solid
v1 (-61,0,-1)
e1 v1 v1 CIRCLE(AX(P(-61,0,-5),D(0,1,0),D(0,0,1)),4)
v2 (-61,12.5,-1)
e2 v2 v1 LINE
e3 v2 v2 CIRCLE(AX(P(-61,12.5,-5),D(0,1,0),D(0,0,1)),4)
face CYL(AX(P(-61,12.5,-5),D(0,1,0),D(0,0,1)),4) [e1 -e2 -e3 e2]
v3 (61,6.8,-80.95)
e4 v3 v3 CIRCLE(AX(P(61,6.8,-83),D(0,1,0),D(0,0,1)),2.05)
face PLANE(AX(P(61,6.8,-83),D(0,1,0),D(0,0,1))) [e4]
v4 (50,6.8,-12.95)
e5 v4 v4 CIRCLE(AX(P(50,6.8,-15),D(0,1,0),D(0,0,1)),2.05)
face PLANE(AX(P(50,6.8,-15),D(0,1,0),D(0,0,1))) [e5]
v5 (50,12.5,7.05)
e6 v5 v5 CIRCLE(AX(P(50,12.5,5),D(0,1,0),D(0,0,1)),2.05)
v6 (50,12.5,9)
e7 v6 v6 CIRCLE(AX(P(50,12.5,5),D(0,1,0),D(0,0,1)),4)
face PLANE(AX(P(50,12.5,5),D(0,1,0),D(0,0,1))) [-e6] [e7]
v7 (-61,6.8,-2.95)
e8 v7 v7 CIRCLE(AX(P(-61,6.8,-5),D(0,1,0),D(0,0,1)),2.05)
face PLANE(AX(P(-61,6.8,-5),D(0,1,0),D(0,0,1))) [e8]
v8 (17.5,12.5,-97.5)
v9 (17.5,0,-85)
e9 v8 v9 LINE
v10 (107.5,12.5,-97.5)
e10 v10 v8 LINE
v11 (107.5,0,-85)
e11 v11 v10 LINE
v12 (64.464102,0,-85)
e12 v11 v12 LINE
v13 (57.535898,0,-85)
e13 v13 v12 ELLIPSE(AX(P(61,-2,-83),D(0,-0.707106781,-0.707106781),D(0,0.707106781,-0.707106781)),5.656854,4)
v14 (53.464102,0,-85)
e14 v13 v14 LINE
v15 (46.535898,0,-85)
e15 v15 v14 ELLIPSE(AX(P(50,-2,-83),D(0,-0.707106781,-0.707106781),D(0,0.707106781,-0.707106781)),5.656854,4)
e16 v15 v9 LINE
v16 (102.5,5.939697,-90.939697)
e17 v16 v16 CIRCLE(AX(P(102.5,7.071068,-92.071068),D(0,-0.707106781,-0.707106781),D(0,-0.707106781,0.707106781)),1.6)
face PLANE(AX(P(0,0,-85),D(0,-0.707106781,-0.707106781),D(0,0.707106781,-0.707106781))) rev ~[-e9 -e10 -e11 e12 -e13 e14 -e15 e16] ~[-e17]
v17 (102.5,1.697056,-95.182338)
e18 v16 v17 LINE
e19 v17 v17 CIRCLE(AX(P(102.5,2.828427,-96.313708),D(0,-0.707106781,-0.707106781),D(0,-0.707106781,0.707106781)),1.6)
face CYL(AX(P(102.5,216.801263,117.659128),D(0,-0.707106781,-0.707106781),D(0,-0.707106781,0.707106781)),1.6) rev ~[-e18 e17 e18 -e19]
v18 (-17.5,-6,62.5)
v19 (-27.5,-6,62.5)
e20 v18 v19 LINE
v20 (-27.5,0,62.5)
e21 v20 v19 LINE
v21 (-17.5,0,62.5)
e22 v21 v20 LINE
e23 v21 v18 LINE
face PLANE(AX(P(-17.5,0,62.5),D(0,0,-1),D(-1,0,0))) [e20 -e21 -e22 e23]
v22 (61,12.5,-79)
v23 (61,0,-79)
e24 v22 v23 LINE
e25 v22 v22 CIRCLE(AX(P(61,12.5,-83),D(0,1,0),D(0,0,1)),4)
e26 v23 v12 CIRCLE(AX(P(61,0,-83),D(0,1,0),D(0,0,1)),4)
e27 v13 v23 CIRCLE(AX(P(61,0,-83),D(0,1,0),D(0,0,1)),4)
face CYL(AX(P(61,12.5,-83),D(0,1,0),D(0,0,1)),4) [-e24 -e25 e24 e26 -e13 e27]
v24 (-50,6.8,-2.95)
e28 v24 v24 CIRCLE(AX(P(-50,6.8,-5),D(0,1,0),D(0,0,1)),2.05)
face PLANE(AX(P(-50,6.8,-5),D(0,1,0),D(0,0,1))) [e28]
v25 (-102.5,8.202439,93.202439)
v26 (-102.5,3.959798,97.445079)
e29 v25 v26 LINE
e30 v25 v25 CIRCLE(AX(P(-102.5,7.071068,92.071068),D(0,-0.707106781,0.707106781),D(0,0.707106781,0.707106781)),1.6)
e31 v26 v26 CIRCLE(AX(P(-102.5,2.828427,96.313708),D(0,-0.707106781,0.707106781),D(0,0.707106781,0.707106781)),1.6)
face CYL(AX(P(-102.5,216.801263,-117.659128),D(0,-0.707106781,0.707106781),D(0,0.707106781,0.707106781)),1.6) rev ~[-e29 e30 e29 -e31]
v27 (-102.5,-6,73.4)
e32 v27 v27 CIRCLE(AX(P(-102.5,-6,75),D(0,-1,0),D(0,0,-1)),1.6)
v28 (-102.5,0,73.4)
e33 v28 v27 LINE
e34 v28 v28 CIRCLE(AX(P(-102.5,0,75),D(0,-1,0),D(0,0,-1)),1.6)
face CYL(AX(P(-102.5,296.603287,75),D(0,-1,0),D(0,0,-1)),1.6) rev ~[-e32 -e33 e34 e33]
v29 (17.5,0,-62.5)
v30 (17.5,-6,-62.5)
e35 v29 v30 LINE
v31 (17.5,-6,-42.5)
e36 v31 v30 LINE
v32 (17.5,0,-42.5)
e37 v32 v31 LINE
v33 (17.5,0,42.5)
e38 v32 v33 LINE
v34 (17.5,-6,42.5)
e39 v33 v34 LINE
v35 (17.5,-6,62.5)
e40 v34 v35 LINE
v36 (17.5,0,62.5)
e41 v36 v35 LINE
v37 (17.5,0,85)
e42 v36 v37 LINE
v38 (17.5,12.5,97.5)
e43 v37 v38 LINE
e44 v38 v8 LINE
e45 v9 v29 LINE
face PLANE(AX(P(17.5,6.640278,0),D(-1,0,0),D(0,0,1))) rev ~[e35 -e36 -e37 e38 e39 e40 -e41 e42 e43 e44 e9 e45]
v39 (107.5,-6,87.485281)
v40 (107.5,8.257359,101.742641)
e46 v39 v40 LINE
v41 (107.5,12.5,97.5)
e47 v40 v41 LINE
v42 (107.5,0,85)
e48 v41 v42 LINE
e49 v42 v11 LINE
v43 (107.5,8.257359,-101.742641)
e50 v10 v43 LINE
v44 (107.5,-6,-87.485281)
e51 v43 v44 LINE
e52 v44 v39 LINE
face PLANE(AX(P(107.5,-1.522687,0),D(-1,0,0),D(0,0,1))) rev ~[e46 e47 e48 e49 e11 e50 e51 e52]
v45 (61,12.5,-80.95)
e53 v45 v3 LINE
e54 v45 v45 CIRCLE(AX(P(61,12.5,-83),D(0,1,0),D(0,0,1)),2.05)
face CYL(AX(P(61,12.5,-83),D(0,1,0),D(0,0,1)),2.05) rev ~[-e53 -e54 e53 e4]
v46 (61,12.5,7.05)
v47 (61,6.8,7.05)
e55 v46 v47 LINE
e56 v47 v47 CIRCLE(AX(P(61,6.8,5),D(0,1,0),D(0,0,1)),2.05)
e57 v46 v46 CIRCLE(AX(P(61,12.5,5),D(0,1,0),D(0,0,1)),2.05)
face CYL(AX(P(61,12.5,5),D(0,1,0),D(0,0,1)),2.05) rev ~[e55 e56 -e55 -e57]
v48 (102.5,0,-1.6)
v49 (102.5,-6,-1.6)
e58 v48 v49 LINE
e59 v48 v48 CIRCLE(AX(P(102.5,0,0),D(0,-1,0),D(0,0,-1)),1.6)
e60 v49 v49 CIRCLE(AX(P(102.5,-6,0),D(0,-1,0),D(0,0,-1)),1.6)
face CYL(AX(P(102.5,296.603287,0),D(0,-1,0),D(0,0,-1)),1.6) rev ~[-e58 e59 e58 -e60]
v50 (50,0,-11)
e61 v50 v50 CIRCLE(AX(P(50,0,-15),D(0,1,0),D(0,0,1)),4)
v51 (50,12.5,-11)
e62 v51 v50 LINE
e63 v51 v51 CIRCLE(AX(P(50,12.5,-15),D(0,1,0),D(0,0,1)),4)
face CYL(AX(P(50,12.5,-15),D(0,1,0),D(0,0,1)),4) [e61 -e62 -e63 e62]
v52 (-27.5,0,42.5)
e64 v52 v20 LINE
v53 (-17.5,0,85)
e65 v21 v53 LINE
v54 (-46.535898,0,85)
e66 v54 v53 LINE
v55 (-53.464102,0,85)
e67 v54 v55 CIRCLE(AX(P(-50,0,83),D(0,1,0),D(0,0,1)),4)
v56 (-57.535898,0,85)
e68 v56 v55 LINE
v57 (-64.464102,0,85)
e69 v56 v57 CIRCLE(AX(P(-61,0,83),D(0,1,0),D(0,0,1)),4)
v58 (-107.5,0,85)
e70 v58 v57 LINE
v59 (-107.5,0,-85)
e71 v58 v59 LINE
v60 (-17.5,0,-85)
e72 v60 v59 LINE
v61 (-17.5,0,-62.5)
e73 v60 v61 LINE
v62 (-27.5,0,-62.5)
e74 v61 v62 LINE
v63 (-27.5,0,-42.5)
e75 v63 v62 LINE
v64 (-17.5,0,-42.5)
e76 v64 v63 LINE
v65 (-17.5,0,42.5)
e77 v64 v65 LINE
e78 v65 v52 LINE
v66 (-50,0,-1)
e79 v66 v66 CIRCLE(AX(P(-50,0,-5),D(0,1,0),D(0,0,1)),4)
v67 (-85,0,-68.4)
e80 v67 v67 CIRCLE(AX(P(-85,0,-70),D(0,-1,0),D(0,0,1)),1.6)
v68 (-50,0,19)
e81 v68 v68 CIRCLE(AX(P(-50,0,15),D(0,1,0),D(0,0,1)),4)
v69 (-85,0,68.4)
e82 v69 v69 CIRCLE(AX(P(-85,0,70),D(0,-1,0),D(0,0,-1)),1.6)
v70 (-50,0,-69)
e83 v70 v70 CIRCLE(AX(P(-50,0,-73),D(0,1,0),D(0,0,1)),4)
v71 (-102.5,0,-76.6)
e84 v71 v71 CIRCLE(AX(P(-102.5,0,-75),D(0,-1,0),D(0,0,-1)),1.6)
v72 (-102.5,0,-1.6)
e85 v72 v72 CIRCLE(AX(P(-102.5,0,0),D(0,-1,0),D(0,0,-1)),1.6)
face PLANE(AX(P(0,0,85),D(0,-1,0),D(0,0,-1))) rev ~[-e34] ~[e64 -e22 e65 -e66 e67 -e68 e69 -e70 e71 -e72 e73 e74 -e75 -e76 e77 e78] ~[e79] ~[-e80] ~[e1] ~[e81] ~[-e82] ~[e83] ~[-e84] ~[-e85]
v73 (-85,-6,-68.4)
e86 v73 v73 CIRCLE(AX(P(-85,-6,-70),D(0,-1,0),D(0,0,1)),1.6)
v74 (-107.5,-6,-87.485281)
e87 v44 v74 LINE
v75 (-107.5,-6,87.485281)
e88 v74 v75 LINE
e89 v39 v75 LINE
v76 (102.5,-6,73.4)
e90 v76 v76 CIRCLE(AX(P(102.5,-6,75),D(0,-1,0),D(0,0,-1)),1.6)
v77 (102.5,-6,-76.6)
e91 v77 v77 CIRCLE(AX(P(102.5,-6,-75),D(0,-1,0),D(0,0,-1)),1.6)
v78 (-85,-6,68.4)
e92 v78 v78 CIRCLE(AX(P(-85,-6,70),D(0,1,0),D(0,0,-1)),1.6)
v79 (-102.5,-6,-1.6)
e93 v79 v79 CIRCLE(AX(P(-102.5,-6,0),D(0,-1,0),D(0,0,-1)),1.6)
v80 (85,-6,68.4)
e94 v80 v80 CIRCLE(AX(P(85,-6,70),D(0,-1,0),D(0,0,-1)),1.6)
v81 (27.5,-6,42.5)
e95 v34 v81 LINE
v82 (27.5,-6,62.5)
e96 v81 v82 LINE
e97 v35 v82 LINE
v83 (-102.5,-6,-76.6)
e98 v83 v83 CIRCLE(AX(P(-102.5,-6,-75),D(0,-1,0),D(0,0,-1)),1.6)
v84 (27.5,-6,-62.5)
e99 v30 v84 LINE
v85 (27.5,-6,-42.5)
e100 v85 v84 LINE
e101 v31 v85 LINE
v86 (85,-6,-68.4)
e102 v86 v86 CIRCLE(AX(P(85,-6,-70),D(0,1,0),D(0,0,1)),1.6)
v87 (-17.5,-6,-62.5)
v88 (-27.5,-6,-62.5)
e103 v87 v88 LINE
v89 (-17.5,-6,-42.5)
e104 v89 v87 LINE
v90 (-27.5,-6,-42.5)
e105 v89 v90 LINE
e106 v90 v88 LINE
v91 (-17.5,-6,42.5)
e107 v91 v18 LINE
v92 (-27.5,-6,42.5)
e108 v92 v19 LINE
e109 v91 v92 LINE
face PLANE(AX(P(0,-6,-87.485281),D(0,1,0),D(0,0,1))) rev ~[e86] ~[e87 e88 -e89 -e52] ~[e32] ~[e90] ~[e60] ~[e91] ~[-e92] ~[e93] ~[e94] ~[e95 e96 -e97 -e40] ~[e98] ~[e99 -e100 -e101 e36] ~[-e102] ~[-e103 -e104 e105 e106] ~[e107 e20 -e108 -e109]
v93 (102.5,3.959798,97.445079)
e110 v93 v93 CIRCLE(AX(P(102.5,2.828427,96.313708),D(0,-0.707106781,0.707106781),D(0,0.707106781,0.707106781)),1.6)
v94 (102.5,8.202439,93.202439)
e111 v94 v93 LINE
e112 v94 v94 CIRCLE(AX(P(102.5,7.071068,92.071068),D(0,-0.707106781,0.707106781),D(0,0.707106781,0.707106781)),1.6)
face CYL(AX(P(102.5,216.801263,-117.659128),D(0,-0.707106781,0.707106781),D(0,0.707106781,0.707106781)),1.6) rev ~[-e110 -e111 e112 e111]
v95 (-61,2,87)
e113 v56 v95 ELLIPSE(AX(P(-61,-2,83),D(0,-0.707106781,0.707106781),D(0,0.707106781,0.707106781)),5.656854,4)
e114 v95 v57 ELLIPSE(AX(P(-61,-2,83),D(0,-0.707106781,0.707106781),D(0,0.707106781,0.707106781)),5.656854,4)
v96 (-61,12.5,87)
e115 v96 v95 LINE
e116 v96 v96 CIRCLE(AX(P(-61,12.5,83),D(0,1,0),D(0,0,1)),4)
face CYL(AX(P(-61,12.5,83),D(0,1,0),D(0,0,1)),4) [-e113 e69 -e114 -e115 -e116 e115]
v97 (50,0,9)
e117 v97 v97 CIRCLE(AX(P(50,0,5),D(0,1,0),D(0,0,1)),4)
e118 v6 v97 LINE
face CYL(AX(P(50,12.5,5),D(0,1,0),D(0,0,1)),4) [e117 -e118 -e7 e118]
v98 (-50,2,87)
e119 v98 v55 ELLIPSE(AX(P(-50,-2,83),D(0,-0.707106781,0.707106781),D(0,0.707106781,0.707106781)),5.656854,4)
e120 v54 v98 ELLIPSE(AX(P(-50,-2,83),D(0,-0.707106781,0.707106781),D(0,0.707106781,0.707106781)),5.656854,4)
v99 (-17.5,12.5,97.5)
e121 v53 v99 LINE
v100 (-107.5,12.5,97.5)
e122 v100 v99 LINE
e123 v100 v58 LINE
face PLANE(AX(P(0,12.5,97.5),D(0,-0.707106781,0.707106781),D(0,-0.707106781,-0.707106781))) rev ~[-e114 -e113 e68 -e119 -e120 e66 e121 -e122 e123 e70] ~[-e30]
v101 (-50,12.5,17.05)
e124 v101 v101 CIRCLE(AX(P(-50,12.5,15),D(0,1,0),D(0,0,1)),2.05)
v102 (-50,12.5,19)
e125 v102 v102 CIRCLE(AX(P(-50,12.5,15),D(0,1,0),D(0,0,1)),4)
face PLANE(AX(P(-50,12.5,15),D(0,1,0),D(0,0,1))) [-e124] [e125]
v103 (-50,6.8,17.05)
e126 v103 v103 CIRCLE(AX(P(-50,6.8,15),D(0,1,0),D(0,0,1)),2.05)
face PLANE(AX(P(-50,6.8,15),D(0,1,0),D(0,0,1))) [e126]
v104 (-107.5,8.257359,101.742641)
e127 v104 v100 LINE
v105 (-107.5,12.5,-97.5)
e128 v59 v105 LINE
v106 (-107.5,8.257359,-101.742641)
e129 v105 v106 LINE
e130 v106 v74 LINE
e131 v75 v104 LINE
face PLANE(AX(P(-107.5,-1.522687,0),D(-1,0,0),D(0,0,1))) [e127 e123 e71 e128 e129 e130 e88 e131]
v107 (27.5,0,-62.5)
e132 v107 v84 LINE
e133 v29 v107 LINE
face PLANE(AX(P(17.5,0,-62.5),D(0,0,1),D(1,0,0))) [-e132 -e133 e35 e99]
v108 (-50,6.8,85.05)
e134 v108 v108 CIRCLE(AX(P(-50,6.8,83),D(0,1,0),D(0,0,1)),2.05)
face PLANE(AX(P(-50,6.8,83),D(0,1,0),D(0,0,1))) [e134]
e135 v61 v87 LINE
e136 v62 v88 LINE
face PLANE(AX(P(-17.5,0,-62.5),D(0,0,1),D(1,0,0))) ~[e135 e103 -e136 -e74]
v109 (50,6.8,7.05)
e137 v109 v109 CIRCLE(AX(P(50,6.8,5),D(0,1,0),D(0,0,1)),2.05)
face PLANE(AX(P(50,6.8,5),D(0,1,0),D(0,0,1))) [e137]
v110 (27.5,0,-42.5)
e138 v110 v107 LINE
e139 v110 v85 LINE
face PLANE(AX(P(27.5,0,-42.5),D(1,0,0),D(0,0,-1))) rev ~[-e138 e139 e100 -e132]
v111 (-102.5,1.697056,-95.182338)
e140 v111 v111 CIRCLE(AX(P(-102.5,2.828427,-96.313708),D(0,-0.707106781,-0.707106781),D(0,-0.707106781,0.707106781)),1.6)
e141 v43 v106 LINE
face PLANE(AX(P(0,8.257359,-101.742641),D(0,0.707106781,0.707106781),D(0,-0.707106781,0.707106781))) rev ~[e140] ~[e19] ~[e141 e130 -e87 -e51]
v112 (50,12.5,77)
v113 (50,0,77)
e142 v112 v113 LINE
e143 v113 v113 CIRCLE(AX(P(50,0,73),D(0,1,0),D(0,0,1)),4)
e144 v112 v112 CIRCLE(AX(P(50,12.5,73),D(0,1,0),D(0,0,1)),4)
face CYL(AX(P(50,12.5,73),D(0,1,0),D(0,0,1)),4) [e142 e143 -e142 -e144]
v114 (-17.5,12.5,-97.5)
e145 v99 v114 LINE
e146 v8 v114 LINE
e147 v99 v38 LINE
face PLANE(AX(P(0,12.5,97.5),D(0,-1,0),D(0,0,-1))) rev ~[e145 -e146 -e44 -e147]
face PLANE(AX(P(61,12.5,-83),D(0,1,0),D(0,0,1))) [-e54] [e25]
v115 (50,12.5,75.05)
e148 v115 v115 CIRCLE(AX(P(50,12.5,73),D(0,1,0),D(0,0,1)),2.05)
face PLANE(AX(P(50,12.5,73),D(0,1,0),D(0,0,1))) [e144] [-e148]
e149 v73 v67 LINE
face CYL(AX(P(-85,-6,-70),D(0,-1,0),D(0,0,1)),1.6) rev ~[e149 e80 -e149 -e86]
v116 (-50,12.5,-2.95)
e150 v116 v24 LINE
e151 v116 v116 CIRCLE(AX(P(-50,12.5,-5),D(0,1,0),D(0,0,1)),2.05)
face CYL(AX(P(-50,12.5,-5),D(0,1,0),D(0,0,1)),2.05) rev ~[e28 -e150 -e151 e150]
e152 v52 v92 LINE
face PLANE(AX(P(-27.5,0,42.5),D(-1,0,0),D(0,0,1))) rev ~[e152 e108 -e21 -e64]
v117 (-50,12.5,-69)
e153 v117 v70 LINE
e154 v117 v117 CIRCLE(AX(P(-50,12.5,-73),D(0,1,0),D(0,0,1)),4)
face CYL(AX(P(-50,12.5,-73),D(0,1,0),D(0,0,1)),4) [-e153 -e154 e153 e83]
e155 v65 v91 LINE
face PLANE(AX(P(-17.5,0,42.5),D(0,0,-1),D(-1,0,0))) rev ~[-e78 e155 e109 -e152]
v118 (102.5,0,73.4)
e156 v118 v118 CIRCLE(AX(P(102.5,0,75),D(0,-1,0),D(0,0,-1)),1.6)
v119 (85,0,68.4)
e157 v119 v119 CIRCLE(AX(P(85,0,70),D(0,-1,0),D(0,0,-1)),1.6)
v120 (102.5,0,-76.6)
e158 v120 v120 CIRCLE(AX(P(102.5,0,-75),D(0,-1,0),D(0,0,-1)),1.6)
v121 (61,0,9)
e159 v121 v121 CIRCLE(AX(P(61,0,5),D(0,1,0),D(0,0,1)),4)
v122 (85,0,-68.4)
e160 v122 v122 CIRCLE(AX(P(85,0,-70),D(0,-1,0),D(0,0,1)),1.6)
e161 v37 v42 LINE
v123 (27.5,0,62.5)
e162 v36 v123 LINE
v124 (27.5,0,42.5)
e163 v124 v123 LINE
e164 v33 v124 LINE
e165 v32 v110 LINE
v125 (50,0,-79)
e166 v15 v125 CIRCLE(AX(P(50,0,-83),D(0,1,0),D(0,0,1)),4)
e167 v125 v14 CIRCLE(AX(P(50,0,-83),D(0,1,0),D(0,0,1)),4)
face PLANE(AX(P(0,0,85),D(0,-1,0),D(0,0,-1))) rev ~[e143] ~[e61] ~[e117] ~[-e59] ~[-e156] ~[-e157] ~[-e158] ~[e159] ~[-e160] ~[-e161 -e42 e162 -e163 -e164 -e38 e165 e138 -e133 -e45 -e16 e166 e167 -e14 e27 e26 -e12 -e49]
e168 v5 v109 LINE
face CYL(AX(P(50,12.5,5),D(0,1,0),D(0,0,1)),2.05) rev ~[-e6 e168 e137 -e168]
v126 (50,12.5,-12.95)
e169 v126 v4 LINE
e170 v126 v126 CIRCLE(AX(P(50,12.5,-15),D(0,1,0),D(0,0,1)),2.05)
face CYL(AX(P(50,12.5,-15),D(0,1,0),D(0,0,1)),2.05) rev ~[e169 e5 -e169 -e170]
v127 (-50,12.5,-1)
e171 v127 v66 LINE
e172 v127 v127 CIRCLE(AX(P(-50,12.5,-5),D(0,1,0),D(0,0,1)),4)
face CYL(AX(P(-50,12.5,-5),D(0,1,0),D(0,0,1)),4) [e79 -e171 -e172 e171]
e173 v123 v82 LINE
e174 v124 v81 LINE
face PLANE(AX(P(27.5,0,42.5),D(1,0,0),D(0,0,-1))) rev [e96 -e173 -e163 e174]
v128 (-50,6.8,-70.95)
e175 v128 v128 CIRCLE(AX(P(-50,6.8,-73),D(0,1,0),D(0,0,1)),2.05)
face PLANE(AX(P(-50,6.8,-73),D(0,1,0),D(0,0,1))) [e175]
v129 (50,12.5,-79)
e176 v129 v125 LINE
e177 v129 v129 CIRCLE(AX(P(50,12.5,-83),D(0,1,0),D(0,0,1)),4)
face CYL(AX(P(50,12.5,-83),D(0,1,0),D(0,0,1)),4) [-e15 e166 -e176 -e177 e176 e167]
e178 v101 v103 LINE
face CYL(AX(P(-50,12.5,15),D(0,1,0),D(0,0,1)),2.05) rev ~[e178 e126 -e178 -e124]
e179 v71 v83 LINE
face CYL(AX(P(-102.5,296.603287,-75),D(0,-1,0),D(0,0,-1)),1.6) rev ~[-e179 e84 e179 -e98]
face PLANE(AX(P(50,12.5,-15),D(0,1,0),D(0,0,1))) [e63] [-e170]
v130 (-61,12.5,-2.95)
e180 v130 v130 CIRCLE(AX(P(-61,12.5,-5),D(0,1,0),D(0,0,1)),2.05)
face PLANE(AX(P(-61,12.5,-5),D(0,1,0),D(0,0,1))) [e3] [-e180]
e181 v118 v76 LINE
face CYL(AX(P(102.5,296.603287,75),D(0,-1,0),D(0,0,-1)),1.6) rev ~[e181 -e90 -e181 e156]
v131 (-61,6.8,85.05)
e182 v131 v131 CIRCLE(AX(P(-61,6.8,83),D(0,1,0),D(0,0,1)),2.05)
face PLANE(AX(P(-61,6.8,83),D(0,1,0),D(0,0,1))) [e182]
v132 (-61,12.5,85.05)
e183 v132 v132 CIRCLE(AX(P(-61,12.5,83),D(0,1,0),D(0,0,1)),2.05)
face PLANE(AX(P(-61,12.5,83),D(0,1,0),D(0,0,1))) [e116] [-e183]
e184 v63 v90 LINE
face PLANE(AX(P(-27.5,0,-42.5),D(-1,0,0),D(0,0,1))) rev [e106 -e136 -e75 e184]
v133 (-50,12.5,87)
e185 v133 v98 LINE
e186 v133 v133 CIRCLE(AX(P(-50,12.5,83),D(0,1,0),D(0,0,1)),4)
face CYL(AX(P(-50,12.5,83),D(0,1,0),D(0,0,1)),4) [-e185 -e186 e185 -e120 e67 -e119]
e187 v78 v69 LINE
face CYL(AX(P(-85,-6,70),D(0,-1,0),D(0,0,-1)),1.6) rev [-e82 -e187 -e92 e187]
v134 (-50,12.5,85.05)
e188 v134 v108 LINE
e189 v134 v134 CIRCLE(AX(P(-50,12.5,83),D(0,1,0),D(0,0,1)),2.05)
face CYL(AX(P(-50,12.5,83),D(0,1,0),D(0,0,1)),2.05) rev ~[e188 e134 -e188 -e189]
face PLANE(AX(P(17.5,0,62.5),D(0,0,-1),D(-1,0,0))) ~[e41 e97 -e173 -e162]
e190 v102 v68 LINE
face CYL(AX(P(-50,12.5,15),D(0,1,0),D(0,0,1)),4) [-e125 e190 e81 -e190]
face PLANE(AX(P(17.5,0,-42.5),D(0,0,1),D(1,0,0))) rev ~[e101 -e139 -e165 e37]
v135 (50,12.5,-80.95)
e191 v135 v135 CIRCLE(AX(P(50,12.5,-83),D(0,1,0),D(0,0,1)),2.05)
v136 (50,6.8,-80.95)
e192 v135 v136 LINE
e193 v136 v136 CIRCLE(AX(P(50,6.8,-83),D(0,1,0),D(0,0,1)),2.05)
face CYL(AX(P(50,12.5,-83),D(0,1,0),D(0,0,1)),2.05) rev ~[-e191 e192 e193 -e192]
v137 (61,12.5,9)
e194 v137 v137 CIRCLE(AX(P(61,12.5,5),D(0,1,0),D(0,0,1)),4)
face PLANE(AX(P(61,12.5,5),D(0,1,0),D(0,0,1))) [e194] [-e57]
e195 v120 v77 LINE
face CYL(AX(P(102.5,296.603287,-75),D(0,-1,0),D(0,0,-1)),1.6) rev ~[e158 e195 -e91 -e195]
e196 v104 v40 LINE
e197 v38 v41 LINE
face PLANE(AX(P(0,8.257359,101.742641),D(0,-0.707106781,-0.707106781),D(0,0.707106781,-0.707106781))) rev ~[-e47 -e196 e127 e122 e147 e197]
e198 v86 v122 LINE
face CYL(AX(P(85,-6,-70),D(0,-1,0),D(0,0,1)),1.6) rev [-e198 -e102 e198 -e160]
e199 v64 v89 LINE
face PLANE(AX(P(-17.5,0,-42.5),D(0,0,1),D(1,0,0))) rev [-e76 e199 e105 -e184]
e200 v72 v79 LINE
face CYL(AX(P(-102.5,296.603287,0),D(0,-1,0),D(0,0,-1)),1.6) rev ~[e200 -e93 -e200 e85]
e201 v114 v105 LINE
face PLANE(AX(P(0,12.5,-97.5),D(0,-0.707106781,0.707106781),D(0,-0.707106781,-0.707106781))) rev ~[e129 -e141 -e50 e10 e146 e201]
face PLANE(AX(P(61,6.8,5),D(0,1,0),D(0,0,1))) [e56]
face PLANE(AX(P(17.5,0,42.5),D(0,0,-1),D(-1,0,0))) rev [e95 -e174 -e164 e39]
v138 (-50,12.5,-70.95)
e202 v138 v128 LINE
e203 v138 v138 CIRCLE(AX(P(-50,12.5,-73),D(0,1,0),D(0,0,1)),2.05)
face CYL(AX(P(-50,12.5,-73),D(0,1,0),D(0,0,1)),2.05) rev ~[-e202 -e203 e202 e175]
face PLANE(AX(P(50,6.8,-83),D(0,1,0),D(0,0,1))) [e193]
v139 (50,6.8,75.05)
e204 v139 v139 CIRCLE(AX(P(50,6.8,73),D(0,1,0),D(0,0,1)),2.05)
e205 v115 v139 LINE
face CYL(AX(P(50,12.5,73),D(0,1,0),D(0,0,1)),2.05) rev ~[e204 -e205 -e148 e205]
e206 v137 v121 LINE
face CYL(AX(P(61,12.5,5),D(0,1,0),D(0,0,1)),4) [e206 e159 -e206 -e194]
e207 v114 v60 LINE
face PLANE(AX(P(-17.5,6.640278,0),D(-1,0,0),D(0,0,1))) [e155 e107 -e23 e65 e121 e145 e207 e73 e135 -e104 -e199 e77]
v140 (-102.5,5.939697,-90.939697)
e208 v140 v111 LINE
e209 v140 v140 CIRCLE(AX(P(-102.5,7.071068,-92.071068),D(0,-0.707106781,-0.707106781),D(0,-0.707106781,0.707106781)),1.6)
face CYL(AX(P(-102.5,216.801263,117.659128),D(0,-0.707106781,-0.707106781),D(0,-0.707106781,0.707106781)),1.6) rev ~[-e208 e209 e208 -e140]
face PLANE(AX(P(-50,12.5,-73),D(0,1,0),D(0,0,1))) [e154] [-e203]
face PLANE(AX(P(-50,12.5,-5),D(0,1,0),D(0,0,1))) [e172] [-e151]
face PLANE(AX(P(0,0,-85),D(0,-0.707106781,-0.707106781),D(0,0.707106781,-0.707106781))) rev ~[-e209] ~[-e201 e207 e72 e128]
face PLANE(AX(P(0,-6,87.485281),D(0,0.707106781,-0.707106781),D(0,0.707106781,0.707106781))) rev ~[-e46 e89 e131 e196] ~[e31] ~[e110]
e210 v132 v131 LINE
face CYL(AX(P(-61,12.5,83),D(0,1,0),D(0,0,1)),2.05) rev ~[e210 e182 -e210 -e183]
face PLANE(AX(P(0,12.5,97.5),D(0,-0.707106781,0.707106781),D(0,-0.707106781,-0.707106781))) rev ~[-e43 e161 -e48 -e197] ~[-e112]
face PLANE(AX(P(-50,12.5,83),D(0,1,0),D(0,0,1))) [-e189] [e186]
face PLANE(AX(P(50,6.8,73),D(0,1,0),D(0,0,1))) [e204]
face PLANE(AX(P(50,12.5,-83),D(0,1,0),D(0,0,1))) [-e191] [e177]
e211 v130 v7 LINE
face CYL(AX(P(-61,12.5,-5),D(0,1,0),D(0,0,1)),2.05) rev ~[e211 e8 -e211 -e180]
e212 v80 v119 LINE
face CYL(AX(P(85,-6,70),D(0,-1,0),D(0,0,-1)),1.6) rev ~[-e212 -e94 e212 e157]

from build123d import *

# Parameters (mm, degrees)
MAIN_DEPTH                                   = 107.5
F_3_0MM_DOWEL_HOLE1_D                        = 3.2
F_3_0MM_DOWEL_HOLE1_ON_FACE_2_D              = 3.2
F_3_0MM_DOWEL_HOLE1_ON_FACE_3_D              = 3.2
F_3_0MM_DOWEL_HOLE1_ON_FACE_4_D              = 3.2
SKETCH4_W                                    = 10
SKETCH4_H                                    = 20
BATTERY_STRAP_CUTOUT_DEPTH                   = 149.539775596
BATTERY_STRAP_CUTOUT_MIRROR_AT_THE_S_2_W     = 10
BATTERY_STRAP_CUTOUT_MIRROR_AT_THE_S_2_H     = 20
BATTERY_STRAP_CUTOUT_MIRROR_AT_THE_S_3_DEPTH = 149.539775596
BATTERY_MOUNT_DEPTH                          = 17.5
PCB_MOUNTS_REACH                             = 151.165
SKETCH7_R                                    = 4
SKETCH8_R                                    = 2.05
PCB_MOUNT_INSERTS_DEPTH                      = 5.7
SKETCH9_R                                    = 1.6
FEET_SCREW_HOLE_DEPTH                        = 150.164556561
MIRROR1_AT_THE_SECOND_PLANE_COPY_1_SKETC_R   = 1.6
MIRROR1_AT_THE_SECOND_PLANE_COPY_1_DEPTH     = 150.164556561


with BuildPart() as part:
    # Sketch2 → Main (new, symmetric)
    with BuildSketch(Plane(origin=(0, 0, 0), x_dir=(0, 0, -1), z_dir=(1, 0, 0))):
        Polygon((-85, 0), (85, 0), (97.5, 12.5), (101.742640687, 8.257359313), (87.485281374, -6), (-87.485281374, -6), (-101.742640687, 8.257359313), (-97.5, 12.5), align=None)
    extrude(amount=MAIN_DEPTH, both=True)

    # Ø3.0mm Dowel Hole1 (through all)
    with Locations(Plane(origin=(-102.5, 7.071067812, -92.071067812), x_dir=(0, 0.707106781187, -0.707106781187), z_dir=(0, 0.707106781187, 0.707106781187))):
        with Locations((0, 0)):
            Hole(F_3_0MM_DOWEL_HOLE1_D / 2)

    # Ø3.0mm Dowel Hole1 on face 2 (through all)
    with Locations(Plane(origin=(-102.5, 0, -75), x_dir=(0, 0, 1), z_dir=(0, 1, 0))):
        with Locations((0, 0), (75, 0), (150, 0), (150, 205), (75, 205), (0, 205)):
            Hole(F_3_0MM_DOWEL_HOLE1_ON_FACE_2_D / 2)

    # Ø3.0mm Dowel Hole1 on face 3 (through all)
    with Locations(Plane(origin=(-102.5, 7.071067812, 92.071067812), x_dir=(0, -0.707106781187, -0.707106781187), z_dir=(0, 0.707106781187, -0.707106781187))):
        with Locations((0, 0), (0, -205)):
            Hole(F_3_0MM_DOWEL_HOLE1_ON_FACE_3_D / 2)

    # Ø3.0mm Dowel Hole1 on face 4 (through all)
    with Locations(Plane(origin=(102.5, 7.071067812, -92.071067812), x_dir=(0, 0.707106781187, -0.707106781187), z_dir=(0, 0.707106781187, 0.707106781187))):
        with Locations((0, 0)):
            Hole(F_3_0MM_DOWEL_HOLE1_ON_FACE_4_D / 2)

    # Sketch4 → Battery strap cutout (cut, through all)
    with BuildSketch(Plane(origin=(0, 0, 0), x_dir=(1, 0, 0), z_dir=(0, 1, 0))):
        with Locations((22.5, 52.5)):
            Rectangle(SKETCH4_W, SKETCH4_H)
    battery_strap_cutout = extrude(amount=-BATTERY_STRAP_CUTOUT_DEPTH, mode=Mode.SUBTRACT)

    # Battery strap cutout mirror: Battery strap cutout across plane
    add(battery_strap_cutout.mirror(Plane(origin=(0, 0, 0), x_dir=(0, 0, 1), z_dir=(1, 0, 0))), mode=Mode.SUBTRACT)

    # Battery strap cutout mirror at the secon: Battery strap cutout across plane
    add(battery_strap_cutout.mirror(Plane.XY), mode=Mode.SUBTRACT)

    # Battery strap cutout mirror at the s 2 → Battery strap cutout mirror at the s 3 (cut, through all)
    with BuildSketch(Plane(origin=(0, 0, 0), x_dir=(-1, 0, 0), z_dir=(0, 1, 0))):
        with Locations((22.5, 52.5)):
            Rectangle(BATTERY_STRAP_CUTOUT_MIRROR_AT_THE_S_2_W, BATTERY_STRAP_CUTOUT_MIRROR_AT_THE_S_2_H)
    extrude(amount=-BATTERY_STRAP_CUTOUT_MIRROR_AT_THE_S_3_DEPTH, mode=Mode.SUBTRACT)

    # Sketch6 → Battery mount (add, symmetric)
    with BuildSketch(Plane(origin=(0, 0, 0), x_dir=(0, 0, -1), z_dir=(1, 0, 0))):
        Polygon((-97.5, 12.5), (97.5, 12.5), (85, 0), (-85, 0), align=None)
    extrude(amount=BATTERY_MOUNT_DEPTH, both=True)

    # PCB mounts: up to this face of the body (flat: up to its plane)
    pcb_mounts_end = Plane(part.part.faces().sort_by_distance((63.510690477, 0, 0))[0])
    # Sketch7 → PCB mounts (add, up to the picked face)
    with BuildSketch(Plane(origin=(0, 12.5, 0), x_dir=(1, 0, 0), z_dir=(0, 1, 0)), mode=Mode.PRIVATE) as pcb_mounts_sk1:
        with Locations(Location((-50, -15, 0), (0, 0, 270))):
            Circle(SKETCH7_R)
    pcb_mounts_tool1 = split(extrude(pcb_mounts_sk1.sketch, amount=-PCB_MOUNTS_REACH, mode=Mode.PRIVATE), bisect_by=pcb_mounts_end, keep=Keep.BOTH, mode=Mode.PRIVATE)
    # Sketch7 → PCB mounts (add, up to the picked face)
    with BuildSketch(Plane(origin=(0, 12.5, 0), x_dir=(1, 0, 0), z_dir=(0, 1, 0)), mode=Mode.PRIVATE) as pcb_mounts_sk2:
        with Locations(Location((-50, -83, 0), (0, 0, 270))):
            Circle(SKETCH7_R)
    pcb_mounts_tool2 = split(extrude(pcb_mounts_sk2.sketch, amount=-PCB_MOUNTS_REACH, mode=Mode.PRIVATE), bisect_by=pcb_mounts_end, keep=Keep.BOTH, mode=Mode.PRIVATE)
    # Sketch7 → PCB mounts (add, up to the picked face)
    with BuildSketch(Plane(origin=(0, 12.5, 0), x_dir=(1, 0, 0), z_dir=(0, 1, 0)), mode=Mode.PRIVATE) as pcb_mounts_sk3:
        with Locations(Location((-61, -83, 0), (0, 0, 270))):
            Circle(SKETCH7_R)
    pcb_mounts_tool3 = split(extrude(pcb_mounts_sk3.sketch, amount=-PCB_MOUNTS_REACH, mode=Mode.PRIVATE), bisect_by=pcb_mounts_end, keep=Keep.BOTH, mode=Mode.PRIVATE)
    # Sketch7 → PCB mounts (add, up to the picked face)
    with BuildSketch(Plane(origin=(0, 12.5, 0), x_dir=(1, 0, 0), z_dir=(0, 1, 0)), mode=Mode.PRIVATE) as pcb_mounts_sk4:
        with Locations(Location((-50, 73, 0), (0, 0, 270))):
            Circle(SKETCH7_R)
    pcb_mounts_tool4 = split(extrude(pcb_mounts_sk4.sketch, amount=-PCB_MOUNTS_REACH, mode=Mode.PRIVATE), bisect_by=pcb_mounts_end, keep=Keep.BOTH, mode=Mode.PRIVATE)
    # Sketch7 → PCB mounts (add, up to the picked face)
    with BuildSketch(Plane(origin=(0, 12.5, 0), x_dir=(1, 0, 0), z_dir=(0, 1, 0)), mode=Mode.PRIVATE) as pcb_mounts_sk5:
        with Locations(Location((-50, 5, 0), (0, 0, 270))):
            Circle(SKETCH7_R)
    pcb_mounts_tool5 = split(extrude(pcb_mounts_sk5.sketch, amount=-PCB_MOUNTS_REACH, mode=Mode.PRIVATE), bisect_by=pcb_mounts_end, keep=Keep.BOTH, mode=Mode.PRIVATE)
    # Sketch7 → PCB mounts (add, up to the picked face)
    with BuildSketch(Plane(origin=(0, 12.5, 0), x_dir=(1, 0, 0), z_dir=(0, 1, 0)), mode=Mode.PRIVATE) as pcb_mounts_sk6:
        with Locations(Location((-61, 5, 0), (0, 0, 270))):
            Circle(SKETCH7_R)
    pcb_mounts_tool6 = split(extrude(pcb_mounts_sk6.sketch, amount=-PCB_MOUNTS_REACH, mode=Mode.PRIVATE), bisect_by=pcb_mounts_end, keep=Keep.BOTH, mode=Mode.PRIVATE)
    # Sketch7 → PCB mounts (add, up to the picked face)
    with BuildSketch(Plane(origin=(0, 12.5, 0), x_dir=(1, 0, 0), z_dir=(0, 1, 0)), mode=Mode.PRIVATE) as pcb_mounts_sk7:
        with Locations(Location((61, 83, 0), (0, 0, 270))):
            Circle(SKETCH7_R)
    pcb_mounts_tool7 = split(extrude(pcb_mounts_sk7.sketch, amount=-PCB_MOUNTS_REACH, mode=Mode.PRIVATE), bisect_by=pcb_mounts_end, keep=Keep.BOTH, mode=Mode.PRIVATE)
    # Sketch7 → PCB mounts (add, up to the picked face)
    with BuildSketch(Plane(origin=(0, 12.5, 0), x_dir=(1, 0, 0), z_dir=(0, 1, 0)), mode=Mode.PRIVATE) as pcb_mounts_sk8:
        with Locations(Location((50, 83, 0), (0, 0, 270))):
            Circle(SKETCH7_R)
    pcb_mounts_tool8 = split(extrude(pcb_mounts_sk8.sketch, amount=-PCB_MOUNTS_REACH, mode=Mode.PRIVATE), bisect_by=pcb_mounts_end, keep=Keep.BOTH, mode=Mode.PRIVATE)
    # Sketch7 → PCB mounts (add, up to the picked face)
    with BuildSketch(Plane(origin=(0, 12.5, 0), x_dir=(1, 0, 0), z_dir=(0, 1, 0)), mode=Mode.PRIVATE) as pcb_mounts_sk9:
        with Locations(Location((50, 15, 0), (0, 0, 270))):
            Circle(SKETCH7_R)
    pcb_mounts_tool9 = split(extrude(pcb_mounts_sk9.sketch, amount=-PCB_MOUNTS_REACH, mode=Mode.PRIVATE), bisect_by=pcb_mounts_end, keep=Keep.BOTH, mode=Mode.PRIVATE)
    # Sketch7 → PCB mounts (add, up to the picked face)
    with BuildSketch(Plane(origin=(0, 12.5, 0), x_dir=(1, 0, 0), z_dir=(0, 1, 0)), mode=Mode.PRIVATE) as pcb_mounts_sk10:
        with Locations(Location((61, -5, 0), (0, 0, 270))):
            Circle(SKETCH7_R)
    pcb_mounts_tool10 = split(extrude(pcb_mounts_sk10.sketch, amount=-PCB_MOUNTS_REACH, mode=Mode.PRIVATE), bisect_by=pcb_mounts_end, keep=Keep.BOTH, mode=Mode.PRIVATE)
    # Sketch7 → PCB mounts (add, up to the picked face)
    with BuildSketch(Plane(origin=(0, 12.5, 0), x_dir=(1, 0, 0), z_dir=(0, 1, 0)), mode=Mode.PRIVATE) as pcb_mounts_sk11:
        with Locations(Location((50, -5, 0), (0, 0, 270))):
            Circle(SKETCH7_R)
    pcb_mounts_tool11 = split(extrude(pcb_mounts_sk11.sketch, amount=-PCB_MOUNTS_REACH, mode=Mode.PRIVATE), bisect_by=pcb_mounts_end, keep=Keep.BOTH, mode=Mode.PRIVATE)
    # Sketch7 → PCB mounts (add, up to the picked face)
    with BuildSketch(Plane(origin=(0, 12.5, 0), x_dir=(1, 0, 0), z_dir=(0, 1, 0)), mode=Mode.PRIVATE) as pcb_mounts_sk12:
        with Locations(Location((50, -73, 0), (0, 0, 270))):
            Circle(SKETCH7_R)
    pcb_mounts_tool12 = split(extrude(pcb_mounts_sk12.sketch, amount=-PCB_MOUNTS_REACH, mode=Mode.PRIVATE), bisect_by=pcb_mounts_end, keep=Keep.BOTH, mode=Mode.PRIVATE)
    add(pcb_mounts_tool1.solids().sort_by(Axis((-50, 12.5, 15), (0, -1, 0)))[0])
    add(pcb_mounts_tool2.solids().sort_by(Axis((-50, 12.5, 83), (0, -1, 0)))[0])
    add(pcb_mounts_tool3.solids().sort_by(Axis((-61, 12.5, 83), (0, -1, 0)))[0])
    add(pcb_mounts_tool4.solids().sort_by(Axis((-50, 12.5, -73), (0, -1, 0)))[0])
    add(pcb_mounts_tool5.solids().sort_by(Axis((-50, 12.5, -5), (0, -1, 0)))[0])
    add(pcb_mounts_tool6.solids().sort_by(Axis((-61, 12.5, -5), (0, -1, 0)))[0])
    add(pcb_mounts_tool7.solids().sort_by(Axis((61, 12.5, -83), (0, -1, 0)))[0])
    add(pcb_mounts_tool8.solids().sort_by(Axis((50, 12.5, -83), (0, -1, 0)))[0])
    add(pcb_mounts_tool9.solids().sort_by(Axis((50, 12.5, -15), (0, -1, 0)))[0])
    add(pcb_mounts_tool10.solids().sort_by(Axis((61, 12.5, 5), (0, -1, 0)))[0])
    add(pcb_mounts_tool11.solids().sort_by(Axis((50, 12.5, 5), (0, -1, 0)))[0])
    add(pcb_mounts_tool12.solids().sort_by(Axis((50, 12.5, 73), (0, -1, 0)))[0])

    # Sketch8 → PCB mount inserts (cut)
    with BuildSketch(Plane(origin=(0, 12.5, 0), x_dir=(1, 0, 0), z_dir=(0, 1, 0))):
        with Locations(Location((-50, 73, 0), (0, 0, 270))):
            Circle(SKETCH8_R)
        with Locations(Location((-50, 5, 0), (0, 0, 270))):
            Circle(SKETCH8_R)
        with Locations(Location((-61, 5, 0), (0, 0, 270))):
            Circle(SKETCH8_R)
        with Locations(Location((-50, -15, 0), (0, 0, 270))):
            Circle(SKETCH8_R)
        with Locations(Location((-61, -83, 0), (0, 0, 270))):
            Circle(SKETCH8_R)
        with Locations(Location((-50, -83, 0), (0, 0, 270))):
            Circle(SKETCH8_R)
        with Locations(Location((50, -73, 0), (0, 0, 270))):
            Circle(SKETCH8_R)
        with Locations(Location((61, -5, 0), (0, 0, 270))):
            Circle(SKETCH8_R)
        with Locations(Location((50, -5, 0), (0, 0, 270))):
            Circle(SKETCH8_R)
        with Locations(Location((50, 15, 0), (0, 0, 270))):
            Circle(SKETCH8_R)
        with Locations(Location((61, 83, 0), (0, 0, 270))):
            Circle(SKETCH8_R)
        with Locations(Location((50, 83, 0), (0, 0, 270))):
            Circle(SKETCH8_R)
    extrude(amount=-PCB_MOUNT_INSERTS_DEPTH, mode=Mode.SUBTRACT)

    # Sketch9 → Feet screw hole (cut, through all)
    with BuildSketch(Plane.XZ.offset(6)):
        with Locations(Location((85, 70, 0), (0, 0, 270))):
            Circle(SKETCH9_R)
    feet_screw_hole = extrude(amount=-FEET_SCREW_HOLE_DEPTH, mode=Mode.SUBTRACT)

    # Mirror1: Feet screw hole across plane
    add(feet_screw_hole.mirror(Plane.XY), mode=Mode.SUBTRACT)

    # Mirror1 at the second plane: Feet screw hole across plane
    add(feet_screw_hole.mirror(Plane(origin=(0, 0, 0), x_dir=(0, 0, 1), z_dir=(1, 0, 0))), mode=Mode.SUBTRACT)

    # Mirror1 at the second plane copy 1 sketc → Mirror1 at the second plane copy 1 (cut, through all)
    with BuildSketch(Plane(origin=(0, -6, 0), x_dir=(-1, 0, 0), z_dir=(0, -1, 0))):
        with Locations(Location((85, 70, 0), (0, 0, 270))):
            Circle(MIRROR1_AT_THE_SECOND_PLANE_COPY_1_SKETC_R)
    extrude(amount=-MIRROR1_AT_THE_SECOND_PLANE_COPY_1_DEPTH, mode=Mode.SUBTRACT)


solid = part.part
